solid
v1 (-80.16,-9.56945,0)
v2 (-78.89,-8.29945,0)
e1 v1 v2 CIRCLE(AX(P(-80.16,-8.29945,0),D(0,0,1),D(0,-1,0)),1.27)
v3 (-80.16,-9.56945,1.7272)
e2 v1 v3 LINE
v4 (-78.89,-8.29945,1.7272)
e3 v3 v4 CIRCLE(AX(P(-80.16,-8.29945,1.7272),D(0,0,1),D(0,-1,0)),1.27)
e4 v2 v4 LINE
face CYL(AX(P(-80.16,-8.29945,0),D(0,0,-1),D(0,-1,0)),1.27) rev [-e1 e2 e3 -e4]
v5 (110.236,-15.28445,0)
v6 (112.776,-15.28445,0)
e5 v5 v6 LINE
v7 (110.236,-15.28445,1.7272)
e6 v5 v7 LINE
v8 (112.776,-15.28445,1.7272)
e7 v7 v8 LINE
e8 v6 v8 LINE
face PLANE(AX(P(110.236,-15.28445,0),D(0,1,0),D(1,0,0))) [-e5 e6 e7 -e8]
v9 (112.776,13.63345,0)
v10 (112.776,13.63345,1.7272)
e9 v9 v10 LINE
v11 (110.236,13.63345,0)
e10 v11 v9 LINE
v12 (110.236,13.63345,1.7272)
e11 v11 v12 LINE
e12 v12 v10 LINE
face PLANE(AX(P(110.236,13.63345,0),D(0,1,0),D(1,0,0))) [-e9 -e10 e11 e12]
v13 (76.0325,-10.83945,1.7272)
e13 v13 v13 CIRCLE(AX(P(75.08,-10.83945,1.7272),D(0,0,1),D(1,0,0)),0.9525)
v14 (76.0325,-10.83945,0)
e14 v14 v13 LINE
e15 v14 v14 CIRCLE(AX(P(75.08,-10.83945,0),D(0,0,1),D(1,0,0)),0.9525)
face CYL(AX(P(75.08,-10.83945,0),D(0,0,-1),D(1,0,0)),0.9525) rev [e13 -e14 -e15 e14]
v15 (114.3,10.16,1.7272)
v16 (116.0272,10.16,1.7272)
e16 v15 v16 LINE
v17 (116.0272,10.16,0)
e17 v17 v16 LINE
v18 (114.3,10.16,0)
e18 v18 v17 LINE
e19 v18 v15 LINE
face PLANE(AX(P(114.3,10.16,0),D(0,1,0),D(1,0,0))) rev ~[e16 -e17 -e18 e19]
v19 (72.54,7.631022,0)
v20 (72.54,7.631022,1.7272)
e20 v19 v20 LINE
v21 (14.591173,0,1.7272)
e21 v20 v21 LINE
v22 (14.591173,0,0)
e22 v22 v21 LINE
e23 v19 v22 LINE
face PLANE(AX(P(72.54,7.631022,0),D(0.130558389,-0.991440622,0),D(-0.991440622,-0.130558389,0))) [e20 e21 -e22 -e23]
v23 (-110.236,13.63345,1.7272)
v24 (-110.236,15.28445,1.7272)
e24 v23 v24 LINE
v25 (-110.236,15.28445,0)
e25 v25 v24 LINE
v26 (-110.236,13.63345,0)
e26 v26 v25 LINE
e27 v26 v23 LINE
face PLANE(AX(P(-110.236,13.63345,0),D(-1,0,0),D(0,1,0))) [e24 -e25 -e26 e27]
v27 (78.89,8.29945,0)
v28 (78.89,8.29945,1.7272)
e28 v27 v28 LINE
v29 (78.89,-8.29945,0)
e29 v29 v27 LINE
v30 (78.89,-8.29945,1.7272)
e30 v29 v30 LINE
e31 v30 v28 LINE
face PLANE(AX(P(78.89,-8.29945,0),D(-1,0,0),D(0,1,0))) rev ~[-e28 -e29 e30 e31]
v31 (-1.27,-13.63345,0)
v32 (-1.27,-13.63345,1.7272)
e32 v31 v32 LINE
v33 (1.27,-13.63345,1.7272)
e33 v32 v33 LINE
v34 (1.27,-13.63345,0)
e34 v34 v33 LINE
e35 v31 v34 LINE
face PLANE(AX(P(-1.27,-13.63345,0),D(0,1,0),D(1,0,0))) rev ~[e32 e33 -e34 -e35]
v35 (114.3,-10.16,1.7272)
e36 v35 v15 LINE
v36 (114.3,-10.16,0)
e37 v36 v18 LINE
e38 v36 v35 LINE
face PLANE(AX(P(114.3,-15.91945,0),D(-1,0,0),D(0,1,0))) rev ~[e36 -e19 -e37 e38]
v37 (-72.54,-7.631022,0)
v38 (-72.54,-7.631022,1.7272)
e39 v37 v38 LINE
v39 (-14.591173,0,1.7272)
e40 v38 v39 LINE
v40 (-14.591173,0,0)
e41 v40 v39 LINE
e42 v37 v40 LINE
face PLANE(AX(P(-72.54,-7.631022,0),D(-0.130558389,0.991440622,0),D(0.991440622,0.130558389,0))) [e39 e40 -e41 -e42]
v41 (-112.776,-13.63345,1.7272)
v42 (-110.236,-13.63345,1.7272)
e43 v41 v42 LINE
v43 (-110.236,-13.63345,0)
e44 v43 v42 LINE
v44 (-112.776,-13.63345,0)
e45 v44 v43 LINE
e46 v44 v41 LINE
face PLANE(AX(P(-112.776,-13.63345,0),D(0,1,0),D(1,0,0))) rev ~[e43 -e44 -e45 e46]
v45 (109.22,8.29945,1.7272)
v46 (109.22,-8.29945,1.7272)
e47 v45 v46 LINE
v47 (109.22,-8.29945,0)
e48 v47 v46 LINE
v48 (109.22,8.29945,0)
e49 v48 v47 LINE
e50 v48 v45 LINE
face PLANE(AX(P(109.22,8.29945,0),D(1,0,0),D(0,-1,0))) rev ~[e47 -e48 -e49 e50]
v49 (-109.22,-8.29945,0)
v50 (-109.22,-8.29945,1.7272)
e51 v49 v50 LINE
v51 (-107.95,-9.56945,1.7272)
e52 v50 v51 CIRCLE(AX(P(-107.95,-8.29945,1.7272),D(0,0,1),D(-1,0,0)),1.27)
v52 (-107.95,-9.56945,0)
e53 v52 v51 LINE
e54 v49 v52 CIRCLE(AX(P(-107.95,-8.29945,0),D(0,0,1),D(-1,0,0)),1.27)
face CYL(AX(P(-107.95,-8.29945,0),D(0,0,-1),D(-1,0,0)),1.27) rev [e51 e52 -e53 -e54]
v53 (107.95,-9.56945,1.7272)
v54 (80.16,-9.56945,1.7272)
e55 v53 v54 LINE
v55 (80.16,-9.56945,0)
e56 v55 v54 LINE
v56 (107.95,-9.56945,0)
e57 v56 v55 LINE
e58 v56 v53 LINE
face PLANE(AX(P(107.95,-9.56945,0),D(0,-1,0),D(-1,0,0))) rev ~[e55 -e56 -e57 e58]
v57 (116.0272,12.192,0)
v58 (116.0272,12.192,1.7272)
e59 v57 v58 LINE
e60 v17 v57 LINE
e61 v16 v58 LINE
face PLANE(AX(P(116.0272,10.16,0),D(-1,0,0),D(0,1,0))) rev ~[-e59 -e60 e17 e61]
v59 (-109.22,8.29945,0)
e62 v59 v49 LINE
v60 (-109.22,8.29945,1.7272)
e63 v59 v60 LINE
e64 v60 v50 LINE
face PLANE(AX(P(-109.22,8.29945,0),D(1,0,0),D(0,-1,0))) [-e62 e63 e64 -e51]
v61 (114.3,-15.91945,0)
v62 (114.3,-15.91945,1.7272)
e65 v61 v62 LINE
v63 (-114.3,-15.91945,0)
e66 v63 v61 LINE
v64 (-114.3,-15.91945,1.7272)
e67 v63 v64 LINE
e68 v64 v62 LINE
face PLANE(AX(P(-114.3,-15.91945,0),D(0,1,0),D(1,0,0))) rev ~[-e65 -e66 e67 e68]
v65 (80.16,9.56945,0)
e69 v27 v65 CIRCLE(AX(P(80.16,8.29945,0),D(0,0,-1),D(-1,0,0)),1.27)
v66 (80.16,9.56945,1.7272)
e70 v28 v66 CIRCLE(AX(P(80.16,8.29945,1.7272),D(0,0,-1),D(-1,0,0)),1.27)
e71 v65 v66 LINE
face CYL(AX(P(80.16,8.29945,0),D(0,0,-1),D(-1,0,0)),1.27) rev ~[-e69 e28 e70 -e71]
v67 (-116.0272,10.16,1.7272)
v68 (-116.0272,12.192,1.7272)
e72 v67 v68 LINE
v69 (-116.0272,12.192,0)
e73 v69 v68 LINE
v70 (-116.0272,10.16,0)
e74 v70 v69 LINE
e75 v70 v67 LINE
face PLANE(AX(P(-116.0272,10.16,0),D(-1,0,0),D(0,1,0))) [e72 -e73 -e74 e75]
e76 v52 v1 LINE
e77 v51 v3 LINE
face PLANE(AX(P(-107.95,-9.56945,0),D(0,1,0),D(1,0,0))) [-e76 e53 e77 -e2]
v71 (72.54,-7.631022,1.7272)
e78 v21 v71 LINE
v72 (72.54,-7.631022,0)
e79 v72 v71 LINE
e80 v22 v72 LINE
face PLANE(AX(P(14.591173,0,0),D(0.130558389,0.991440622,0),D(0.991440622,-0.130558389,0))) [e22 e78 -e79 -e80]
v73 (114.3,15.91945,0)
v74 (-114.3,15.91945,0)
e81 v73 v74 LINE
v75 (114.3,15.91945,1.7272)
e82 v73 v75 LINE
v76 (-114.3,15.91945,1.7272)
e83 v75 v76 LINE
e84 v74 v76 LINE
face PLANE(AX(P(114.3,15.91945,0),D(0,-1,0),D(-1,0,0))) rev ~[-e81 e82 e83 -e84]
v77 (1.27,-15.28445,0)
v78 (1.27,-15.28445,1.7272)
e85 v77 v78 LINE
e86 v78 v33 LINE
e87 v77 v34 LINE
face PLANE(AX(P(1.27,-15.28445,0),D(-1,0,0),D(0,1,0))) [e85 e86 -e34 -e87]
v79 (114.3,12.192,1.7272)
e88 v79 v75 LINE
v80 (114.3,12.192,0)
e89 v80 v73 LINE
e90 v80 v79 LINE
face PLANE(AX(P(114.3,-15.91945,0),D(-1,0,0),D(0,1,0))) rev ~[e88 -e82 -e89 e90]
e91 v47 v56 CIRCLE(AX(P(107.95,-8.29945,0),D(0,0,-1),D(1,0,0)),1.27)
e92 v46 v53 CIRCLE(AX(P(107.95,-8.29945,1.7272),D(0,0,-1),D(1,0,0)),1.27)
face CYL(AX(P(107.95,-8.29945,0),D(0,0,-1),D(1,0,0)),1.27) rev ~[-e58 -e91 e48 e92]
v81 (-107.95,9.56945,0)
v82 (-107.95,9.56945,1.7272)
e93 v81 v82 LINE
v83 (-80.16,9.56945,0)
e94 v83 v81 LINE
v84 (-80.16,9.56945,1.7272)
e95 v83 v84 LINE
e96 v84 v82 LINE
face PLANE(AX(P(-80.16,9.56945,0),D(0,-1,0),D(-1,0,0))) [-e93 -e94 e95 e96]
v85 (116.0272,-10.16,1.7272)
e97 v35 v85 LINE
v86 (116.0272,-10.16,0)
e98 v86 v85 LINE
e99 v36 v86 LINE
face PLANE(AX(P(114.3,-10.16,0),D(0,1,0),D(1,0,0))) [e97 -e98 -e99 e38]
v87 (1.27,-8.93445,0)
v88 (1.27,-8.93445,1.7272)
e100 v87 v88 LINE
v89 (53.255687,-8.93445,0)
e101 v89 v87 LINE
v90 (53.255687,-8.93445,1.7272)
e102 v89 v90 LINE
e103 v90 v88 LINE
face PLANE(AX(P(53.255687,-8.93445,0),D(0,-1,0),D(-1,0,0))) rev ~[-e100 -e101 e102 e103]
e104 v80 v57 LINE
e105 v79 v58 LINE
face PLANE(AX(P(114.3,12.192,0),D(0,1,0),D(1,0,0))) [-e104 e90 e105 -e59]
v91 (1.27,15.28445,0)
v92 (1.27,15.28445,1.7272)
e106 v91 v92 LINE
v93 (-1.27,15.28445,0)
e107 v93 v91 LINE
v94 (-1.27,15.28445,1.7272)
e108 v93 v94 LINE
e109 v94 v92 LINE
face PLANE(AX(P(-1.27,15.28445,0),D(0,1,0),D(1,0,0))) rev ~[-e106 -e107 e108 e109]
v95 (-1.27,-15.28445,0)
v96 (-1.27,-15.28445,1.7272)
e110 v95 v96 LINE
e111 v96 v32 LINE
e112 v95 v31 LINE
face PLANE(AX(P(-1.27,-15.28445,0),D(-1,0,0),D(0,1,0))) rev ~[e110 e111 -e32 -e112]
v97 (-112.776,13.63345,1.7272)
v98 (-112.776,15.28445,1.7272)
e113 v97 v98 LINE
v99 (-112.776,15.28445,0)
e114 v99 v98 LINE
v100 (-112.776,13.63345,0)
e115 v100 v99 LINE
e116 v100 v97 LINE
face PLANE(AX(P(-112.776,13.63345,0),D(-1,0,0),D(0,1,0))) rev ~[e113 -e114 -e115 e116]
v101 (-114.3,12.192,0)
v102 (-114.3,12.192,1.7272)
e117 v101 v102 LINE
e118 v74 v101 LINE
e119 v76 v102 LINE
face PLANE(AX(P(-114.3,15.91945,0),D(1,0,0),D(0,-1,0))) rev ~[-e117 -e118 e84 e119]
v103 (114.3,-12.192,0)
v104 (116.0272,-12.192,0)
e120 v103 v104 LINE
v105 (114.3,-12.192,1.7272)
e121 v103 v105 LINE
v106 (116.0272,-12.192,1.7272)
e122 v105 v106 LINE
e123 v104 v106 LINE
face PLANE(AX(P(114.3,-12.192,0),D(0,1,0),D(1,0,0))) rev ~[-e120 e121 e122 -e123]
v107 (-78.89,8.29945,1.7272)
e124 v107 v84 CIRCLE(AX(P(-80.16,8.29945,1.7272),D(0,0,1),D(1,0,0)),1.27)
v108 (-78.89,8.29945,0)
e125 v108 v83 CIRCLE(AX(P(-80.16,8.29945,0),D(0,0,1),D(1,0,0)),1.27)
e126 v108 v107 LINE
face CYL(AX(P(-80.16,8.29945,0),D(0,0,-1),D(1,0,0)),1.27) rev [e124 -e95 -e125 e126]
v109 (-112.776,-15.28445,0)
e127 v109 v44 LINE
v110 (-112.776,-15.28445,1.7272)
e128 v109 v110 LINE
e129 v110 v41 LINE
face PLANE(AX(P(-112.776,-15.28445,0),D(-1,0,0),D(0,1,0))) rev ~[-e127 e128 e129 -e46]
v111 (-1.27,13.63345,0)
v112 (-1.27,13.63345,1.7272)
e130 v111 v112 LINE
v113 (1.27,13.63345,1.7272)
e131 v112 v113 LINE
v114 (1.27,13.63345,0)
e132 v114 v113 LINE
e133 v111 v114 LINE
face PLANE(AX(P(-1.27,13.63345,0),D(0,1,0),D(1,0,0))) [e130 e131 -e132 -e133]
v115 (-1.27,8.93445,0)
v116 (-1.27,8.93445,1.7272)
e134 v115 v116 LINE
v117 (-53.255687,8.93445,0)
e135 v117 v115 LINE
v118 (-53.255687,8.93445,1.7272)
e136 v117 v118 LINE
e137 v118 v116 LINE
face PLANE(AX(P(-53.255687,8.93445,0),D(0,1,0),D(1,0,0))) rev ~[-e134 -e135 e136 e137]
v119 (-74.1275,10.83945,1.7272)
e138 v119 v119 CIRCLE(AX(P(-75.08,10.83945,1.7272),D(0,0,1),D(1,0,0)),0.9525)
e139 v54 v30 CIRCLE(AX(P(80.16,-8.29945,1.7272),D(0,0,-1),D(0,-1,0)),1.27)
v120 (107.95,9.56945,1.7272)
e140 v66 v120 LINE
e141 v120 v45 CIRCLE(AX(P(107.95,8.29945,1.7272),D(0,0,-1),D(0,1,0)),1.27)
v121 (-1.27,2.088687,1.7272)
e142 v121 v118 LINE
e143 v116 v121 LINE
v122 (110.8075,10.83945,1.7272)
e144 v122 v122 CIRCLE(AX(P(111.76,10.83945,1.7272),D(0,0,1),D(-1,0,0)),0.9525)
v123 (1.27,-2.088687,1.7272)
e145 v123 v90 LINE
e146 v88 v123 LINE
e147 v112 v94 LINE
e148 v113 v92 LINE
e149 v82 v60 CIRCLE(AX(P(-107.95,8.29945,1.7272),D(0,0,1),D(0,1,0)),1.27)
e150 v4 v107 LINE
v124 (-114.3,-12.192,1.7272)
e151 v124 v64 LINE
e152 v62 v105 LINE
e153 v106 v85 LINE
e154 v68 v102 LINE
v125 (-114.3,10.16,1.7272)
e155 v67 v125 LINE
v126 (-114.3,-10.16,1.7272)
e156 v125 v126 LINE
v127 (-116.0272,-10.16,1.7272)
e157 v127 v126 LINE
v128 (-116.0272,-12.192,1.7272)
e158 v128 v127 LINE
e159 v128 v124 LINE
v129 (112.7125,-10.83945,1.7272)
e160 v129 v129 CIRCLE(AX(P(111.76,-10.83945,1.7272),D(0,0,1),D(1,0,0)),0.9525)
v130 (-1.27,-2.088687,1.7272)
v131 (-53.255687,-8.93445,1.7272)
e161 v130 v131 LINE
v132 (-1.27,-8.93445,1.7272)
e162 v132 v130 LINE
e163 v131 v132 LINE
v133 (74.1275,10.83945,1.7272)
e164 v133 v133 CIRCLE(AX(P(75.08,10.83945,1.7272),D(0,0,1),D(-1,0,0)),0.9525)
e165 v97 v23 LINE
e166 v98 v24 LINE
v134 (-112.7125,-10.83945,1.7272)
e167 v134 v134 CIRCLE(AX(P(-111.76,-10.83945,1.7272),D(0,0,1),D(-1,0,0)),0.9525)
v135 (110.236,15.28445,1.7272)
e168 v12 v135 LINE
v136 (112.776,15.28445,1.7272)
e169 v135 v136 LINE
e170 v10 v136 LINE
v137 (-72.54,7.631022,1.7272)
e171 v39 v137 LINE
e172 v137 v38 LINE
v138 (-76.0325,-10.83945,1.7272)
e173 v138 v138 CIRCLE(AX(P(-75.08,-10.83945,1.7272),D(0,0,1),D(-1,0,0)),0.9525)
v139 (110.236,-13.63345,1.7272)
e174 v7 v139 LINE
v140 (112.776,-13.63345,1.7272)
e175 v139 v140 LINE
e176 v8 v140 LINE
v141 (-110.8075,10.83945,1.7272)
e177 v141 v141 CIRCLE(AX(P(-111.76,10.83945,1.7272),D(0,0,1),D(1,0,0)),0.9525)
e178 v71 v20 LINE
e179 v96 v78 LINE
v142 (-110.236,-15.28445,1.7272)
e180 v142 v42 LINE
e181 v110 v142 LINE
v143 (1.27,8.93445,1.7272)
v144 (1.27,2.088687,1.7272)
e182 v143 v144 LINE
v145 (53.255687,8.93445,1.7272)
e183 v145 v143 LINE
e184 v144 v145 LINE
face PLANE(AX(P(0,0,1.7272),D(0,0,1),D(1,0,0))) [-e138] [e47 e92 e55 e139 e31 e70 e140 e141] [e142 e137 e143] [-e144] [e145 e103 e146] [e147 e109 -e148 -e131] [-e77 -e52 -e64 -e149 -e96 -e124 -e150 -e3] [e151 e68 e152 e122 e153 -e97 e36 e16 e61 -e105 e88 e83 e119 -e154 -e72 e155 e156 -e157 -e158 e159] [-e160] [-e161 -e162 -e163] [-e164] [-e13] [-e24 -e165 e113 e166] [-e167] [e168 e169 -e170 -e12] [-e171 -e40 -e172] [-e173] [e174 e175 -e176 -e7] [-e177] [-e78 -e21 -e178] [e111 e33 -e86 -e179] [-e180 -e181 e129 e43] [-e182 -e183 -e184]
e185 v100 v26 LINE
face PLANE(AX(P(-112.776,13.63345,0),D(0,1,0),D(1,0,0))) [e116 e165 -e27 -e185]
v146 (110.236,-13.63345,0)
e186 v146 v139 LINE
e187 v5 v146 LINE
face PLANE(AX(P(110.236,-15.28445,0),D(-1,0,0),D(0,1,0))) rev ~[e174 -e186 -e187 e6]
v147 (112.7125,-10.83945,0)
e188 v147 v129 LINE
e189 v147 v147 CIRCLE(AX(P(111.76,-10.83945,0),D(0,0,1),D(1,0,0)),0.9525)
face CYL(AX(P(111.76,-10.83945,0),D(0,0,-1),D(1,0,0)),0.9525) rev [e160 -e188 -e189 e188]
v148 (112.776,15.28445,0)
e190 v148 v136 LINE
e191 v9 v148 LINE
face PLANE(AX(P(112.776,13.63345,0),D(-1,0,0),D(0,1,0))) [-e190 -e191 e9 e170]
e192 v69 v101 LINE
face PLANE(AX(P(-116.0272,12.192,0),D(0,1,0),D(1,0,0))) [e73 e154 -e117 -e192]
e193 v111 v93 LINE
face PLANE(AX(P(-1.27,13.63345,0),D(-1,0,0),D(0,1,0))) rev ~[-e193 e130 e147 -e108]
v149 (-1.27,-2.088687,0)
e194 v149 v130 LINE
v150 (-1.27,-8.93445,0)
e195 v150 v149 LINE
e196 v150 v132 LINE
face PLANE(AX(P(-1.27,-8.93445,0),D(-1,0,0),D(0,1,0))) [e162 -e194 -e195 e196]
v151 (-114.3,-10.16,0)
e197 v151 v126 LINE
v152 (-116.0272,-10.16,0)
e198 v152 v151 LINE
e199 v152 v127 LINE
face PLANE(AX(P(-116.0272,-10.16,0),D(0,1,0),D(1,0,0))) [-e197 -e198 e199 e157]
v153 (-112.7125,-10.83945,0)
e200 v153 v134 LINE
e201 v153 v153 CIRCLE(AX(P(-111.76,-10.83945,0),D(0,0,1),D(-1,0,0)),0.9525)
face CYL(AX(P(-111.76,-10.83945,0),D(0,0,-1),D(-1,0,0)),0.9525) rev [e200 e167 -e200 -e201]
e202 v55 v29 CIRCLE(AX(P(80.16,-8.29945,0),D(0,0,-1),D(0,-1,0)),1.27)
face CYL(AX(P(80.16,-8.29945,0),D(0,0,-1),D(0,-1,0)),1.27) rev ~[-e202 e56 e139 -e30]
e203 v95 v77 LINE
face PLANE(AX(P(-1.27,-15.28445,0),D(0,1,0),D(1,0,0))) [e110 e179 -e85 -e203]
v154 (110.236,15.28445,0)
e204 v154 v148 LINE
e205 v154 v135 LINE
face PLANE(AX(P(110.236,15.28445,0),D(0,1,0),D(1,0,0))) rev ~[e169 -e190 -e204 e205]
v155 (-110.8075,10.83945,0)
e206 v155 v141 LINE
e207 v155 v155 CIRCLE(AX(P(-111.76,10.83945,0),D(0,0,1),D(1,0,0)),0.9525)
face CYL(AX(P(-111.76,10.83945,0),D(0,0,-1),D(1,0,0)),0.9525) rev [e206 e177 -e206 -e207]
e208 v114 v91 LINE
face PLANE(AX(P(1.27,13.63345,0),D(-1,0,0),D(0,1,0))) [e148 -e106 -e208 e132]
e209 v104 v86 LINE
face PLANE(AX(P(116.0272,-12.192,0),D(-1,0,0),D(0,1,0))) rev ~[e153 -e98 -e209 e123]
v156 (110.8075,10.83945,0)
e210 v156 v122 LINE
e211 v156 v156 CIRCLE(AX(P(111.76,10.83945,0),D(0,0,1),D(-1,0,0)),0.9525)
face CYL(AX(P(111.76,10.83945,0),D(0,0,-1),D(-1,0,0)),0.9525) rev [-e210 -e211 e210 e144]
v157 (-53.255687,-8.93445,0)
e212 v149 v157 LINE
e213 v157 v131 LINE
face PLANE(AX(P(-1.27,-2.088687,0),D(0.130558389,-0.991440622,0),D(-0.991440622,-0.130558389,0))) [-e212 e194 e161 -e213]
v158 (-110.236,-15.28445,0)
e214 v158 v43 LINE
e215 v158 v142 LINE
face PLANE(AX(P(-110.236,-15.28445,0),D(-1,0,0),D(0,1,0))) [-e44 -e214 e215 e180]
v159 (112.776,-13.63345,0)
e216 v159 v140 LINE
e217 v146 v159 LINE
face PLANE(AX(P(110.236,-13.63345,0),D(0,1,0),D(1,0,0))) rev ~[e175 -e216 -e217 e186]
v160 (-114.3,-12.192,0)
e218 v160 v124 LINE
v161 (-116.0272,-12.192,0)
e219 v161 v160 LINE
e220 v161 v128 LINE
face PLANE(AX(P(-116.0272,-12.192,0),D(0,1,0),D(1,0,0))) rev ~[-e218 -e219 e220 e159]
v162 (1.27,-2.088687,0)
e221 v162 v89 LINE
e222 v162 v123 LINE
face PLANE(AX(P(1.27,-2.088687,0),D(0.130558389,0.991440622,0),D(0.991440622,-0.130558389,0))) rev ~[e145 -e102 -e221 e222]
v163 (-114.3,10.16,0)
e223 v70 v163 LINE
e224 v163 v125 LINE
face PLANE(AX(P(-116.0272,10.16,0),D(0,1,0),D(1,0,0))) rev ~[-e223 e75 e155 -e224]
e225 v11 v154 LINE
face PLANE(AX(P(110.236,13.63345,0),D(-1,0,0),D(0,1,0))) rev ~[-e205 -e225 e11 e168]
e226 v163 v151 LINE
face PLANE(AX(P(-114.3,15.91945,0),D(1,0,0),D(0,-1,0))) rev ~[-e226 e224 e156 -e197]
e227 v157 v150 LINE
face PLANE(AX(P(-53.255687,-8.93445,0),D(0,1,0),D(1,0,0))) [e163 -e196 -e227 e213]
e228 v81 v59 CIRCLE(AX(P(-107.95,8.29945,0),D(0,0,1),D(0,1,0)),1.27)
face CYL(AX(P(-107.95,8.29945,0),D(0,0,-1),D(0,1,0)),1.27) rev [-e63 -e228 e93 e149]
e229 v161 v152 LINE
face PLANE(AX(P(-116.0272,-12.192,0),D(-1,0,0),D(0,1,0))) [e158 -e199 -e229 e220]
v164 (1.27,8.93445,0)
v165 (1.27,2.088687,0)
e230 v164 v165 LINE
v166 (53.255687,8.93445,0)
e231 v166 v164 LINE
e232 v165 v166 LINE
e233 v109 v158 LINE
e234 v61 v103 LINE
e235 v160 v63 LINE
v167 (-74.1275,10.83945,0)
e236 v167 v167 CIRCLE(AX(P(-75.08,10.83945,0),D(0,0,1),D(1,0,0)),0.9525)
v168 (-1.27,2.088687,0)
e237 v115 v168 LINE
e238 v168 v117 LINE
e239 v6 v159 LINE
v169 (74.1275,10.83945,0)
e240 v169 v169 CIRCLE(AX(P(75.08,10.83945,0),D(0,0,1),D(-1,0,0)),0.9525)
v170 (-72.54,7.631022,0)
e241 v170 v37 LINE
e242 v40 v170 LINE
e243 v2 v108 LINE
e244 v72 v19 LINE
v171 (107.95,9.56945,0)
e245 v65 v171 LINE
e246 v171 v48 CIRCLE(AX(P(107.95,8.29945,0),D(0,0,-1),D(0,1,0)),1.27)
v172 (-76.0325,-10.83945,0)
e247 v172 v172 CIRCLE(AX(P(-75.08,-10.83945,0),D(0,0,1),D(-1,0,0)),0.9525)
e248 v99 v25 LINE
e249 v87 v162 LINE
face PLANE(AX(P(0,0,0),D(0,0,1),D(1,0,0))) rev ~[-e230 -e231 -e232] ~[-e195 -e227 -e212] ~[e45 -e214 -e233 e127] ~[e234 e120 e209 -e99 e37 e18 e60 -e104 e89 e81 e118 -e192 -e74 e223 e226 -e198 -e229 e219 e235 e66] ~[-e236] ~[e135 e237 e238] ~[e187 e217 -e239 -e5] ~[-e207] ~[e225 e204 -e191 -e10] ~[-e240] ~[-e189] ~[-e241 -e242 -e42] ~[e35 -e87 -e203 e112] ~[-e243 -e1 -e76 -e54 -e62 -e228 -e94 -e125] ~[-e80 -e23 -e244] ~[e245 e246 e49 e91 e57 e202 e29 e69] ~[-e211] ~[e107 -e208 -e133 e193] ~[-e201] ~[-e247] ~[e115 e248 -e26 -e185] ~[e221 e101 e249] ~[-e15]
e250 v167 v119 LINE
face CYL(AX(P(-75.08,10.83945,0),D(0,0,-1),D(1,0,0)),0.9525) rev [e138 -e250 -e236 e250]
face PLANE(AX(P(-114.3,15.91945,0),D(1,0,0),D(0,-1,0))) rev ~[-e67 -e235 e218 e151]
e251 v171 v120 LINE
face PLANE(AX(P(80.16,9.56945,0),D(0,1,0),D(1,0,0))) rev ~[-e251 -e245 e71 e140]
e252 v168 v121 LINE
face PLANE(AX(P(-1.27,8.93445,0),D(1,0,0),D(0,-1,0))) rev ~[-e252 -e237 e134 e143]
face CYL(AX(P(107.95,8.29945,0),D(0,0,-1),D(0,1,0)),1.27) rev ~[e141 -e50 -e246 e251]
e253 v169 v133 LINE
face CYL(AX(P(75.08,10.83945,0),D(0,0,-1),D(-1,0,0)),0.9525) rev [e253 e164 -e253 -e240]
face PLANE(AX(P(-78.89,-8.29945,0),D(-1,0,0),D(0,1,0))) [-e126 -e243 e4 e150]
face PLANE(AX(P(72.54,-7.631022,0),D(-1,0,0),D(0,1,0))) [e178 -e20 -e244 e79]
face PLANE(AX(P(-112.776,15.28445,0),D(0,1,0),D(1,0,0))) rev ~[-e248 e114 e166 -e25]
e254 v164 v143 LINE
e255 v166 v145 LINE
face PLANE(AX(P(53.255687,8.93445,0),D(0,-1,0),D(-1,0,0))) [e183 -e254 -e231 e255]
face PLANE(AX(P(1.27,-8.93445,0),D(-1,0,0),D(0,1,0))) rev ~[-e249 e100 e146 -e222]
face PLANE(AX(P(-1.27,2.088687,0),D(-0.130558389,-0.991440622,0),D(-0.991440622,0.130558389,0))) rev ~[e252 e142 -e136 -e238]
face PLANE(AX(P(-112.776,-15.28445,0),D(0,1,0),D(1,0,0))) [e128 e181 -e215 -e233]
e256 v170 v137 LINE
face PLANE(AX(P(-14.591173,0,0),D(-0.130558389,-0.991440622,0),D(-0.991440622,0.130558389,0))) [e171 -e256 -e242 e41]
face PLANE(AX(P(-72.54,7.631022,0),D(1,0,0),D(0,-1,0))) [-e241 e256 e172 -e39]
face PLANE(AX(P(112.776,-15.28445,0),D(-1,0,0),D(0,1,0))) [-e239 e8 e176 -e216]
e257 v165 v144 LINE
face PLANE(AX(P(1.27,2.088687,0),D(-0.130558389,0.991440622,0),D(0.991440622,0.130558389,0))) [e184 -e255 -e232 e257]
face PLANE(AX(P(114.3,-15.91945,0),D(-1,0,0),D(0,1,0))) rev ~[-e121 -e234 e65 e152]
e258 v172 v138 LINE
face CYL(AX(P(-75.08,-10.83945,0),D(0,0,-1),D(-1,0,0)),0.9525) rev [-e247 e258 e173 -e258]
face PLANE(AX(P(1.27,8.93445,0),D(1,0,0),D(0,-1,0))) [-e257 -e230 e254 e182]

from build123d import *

# Parameters (mm, degrees)
SKETCH1_R           = 0.9525
SKETCH1_W           = 2.54
SKETCH1_H           = 1.651
BOSS_EXTRUDE1_DEPTH = 1.7272
SKETCH3_W           = 1.7272
SKETCH3_H           = 2.032
BOSS_EXTRUDE2_DEPTH = 1.7272


with BuildPart() as part:
    # Sketch1 → Boss-Extrude1 (new body)
    with BuildSketch(Plane.XY):
        Polygon((-114.3, 13.37945), (-114.3, -13.37945), (-114.3, -15.91945), (114.3, -15.91945), (114.3, -13.37945), (114.3, 13.37945), (114.3, 15.91945), (-114.3, 15.91945), align=None)
        with Locations((-111.76, 10.83945)):
            Circle(SKETCH1_R, mode=Mode.SUBTRACT)
        with Locations(Location((-111.76, -10.83945, 0), (0, 0, 180))):
            Circle(SKETCH1_R, mode=Mode.SUBTRACT)
        with Locations((-75.08, 10.83945)):
            Circle(SKETCH1_R, mode=Mode.SUBTRACT)
        with Locations(Location((-75.08, -10.83945, 0), (0, 0, 180))):
            Circle(SKETCH1_R, mode=Mode.SUBTRACT)
        with Locations(Location((75.08, 10.83945, 0), (0, 0, 180))):
            Circle(SKETCH1_R, mode=Mode.SUBTRACT)
        with Locations(Location((111.76, 10.83945, 0), (0, 0, 180))):
            Circle(SKETCH1_R, mode=Mode.SUBTRACT)
        with Locations((111.76, -10.83945)):
            Circle(SKETCH1_R, mode=Mode.SUBTRACT)
        with Locations((75.08, -10.83945)):
            Circle(SKETCH1_R, mode=Mode.SUBTRACT)
        with BuildLine():
            Line((-107.95, -9.56945), (-80.16, -9.56945))
            ThreePointArc((-80.16, -9.56945), (-79.261974388, -9.197475612), (-78.89, -8.29945))
            Line((-78.89, -8.29945), (-78.89, 8.29945))
            ThreePointArc((-78.89, 8.29945), (-79.261974388, 9.197475612), (-80.16, 9.56945))
            Line((-80.16, 9.56945), (-107.95, 9.56945))
            ThreePointArc((-107.95, 9.56945), (-108.848025612, 9.197475612), (-109.22, 8.29945))
            Line((-109.22, 8.29945), (-109.22, -8.29945))
            ThreePointArc((-109.22, -8.29945), (-108.848025612, -9.197475612), (-107.95, -9.56945))
        make_face(mode=Mode.SUBTRACT)
        Polygon((-1.27, -8.93445), (-1.27, -2.088687016), (-53.255686673, -8.93445), align=None, mode=Mode.SUBTRACT)
        with BuildLine():
            Line((78.89, -8.29945), (78.89, 8.29945))
            ThreePointArc((78.89, 8.29945), (79.261974388, 9.197475612), (80.16, 9.56945))
            Line((80.16, 9.56945), (107.95, 9.56945))
            ThreePointArc((107.95, 9.56945), (108.848025612, 9.197475612), (109.22, 8.29945))
            Line((109.22, 8.29945), (109.22, -8.29945))
            ThreePointArc((109.22, -8.29945), (108.848025612, -9.197475612), (107.95, -9.56945))
            Line((107.95, -9.56945), (80.16, -9.56945))
            ThreePointArc((80.16, -9.56945), (79.261974388, -9.197475612), (78.89, -8.29945))
        make_face(mode=Mode.SUBTRACT)
        Polygon((-14.591172672, 0), (-72.54, 7.631022354), (-72.54, -7.631022354), align=None, mode=Mode.SUBTRACT)
        Polygon((-1.27, 8.93445), (-1.27, 2.088687016), (-53.255686673, 8.93445), align=None, mode=Mode.SUBTRACT)
        Polygon((1.27, -8.93445), (1.27, -2.088687016), (53.255686673, -8.93445), align=None, mode=Mode.SUBTRACT)
        Polygon((1.27, 8.93445), (1.27, 2.088687016), (53.255686673, 8.93445), align=None, mode=Mode.SUBTRACT)
        Polygon((14.591172672, 0), (72.54, -7.631022354), (72.54, 7.631022354), align=None, mode=Mode.SUBTRACT)
        with Locations((111.506, 14.45895)):
            Rectangle(SKETCH1_W, SKETCH1_H, mode=Mode.SUBTRACT)
        with Locations((111.506, -14.45895)):
            Rectangle(SKETCH1_W, SKETCH1_H, mode=Mode.SUBTRACT)
        with Locations((-111.506, 14.45895)):
            Rectangle(SKETCH1_W, SKETCH1_H, mode=Mode.SUBTRACT)
        with Locations((-111.506, -14.45895)):
            Rectangle(SKETCH1_W, SKETCH1_H, mode=Mode.SUBTRACT)
        with Locations((0, -14.45895)):
            Rectangle(SKETCH1_W, SKETCH1_H, mode=Mode.SUBTRACT)
        with Locations((0, 14.45895)):
            Rectangle(SKETCH1_W, SKETCH1_H, mode=Mode.SUBTRACT)
    extrude(amount=BOSS_EXTRUDE1_DEPTH)

    # Sketch3 → Boss-Extrude2 (add)
    with BuildSketch(Plane.XY):
        with Locations((-115.1636, 11.176)):
            Rectangle(SKETCH3_W, SKETCH3_H)
        with Locations((-115.1636, -11.176)):
            Rectangle(SKETCH3_W, SKETCH3_H)
        with Locations((115.1636, -11.176)):
            Rectangle(SKETCH3_W, SKETCH3_H)
        with Locations((115.1636, 11.176)):
            Rectangle(SKETCH3_W, SKETCH3_H)
    extrude(amount=BOSS_EXTRUDE2_DEPTH)


solid = part.part
